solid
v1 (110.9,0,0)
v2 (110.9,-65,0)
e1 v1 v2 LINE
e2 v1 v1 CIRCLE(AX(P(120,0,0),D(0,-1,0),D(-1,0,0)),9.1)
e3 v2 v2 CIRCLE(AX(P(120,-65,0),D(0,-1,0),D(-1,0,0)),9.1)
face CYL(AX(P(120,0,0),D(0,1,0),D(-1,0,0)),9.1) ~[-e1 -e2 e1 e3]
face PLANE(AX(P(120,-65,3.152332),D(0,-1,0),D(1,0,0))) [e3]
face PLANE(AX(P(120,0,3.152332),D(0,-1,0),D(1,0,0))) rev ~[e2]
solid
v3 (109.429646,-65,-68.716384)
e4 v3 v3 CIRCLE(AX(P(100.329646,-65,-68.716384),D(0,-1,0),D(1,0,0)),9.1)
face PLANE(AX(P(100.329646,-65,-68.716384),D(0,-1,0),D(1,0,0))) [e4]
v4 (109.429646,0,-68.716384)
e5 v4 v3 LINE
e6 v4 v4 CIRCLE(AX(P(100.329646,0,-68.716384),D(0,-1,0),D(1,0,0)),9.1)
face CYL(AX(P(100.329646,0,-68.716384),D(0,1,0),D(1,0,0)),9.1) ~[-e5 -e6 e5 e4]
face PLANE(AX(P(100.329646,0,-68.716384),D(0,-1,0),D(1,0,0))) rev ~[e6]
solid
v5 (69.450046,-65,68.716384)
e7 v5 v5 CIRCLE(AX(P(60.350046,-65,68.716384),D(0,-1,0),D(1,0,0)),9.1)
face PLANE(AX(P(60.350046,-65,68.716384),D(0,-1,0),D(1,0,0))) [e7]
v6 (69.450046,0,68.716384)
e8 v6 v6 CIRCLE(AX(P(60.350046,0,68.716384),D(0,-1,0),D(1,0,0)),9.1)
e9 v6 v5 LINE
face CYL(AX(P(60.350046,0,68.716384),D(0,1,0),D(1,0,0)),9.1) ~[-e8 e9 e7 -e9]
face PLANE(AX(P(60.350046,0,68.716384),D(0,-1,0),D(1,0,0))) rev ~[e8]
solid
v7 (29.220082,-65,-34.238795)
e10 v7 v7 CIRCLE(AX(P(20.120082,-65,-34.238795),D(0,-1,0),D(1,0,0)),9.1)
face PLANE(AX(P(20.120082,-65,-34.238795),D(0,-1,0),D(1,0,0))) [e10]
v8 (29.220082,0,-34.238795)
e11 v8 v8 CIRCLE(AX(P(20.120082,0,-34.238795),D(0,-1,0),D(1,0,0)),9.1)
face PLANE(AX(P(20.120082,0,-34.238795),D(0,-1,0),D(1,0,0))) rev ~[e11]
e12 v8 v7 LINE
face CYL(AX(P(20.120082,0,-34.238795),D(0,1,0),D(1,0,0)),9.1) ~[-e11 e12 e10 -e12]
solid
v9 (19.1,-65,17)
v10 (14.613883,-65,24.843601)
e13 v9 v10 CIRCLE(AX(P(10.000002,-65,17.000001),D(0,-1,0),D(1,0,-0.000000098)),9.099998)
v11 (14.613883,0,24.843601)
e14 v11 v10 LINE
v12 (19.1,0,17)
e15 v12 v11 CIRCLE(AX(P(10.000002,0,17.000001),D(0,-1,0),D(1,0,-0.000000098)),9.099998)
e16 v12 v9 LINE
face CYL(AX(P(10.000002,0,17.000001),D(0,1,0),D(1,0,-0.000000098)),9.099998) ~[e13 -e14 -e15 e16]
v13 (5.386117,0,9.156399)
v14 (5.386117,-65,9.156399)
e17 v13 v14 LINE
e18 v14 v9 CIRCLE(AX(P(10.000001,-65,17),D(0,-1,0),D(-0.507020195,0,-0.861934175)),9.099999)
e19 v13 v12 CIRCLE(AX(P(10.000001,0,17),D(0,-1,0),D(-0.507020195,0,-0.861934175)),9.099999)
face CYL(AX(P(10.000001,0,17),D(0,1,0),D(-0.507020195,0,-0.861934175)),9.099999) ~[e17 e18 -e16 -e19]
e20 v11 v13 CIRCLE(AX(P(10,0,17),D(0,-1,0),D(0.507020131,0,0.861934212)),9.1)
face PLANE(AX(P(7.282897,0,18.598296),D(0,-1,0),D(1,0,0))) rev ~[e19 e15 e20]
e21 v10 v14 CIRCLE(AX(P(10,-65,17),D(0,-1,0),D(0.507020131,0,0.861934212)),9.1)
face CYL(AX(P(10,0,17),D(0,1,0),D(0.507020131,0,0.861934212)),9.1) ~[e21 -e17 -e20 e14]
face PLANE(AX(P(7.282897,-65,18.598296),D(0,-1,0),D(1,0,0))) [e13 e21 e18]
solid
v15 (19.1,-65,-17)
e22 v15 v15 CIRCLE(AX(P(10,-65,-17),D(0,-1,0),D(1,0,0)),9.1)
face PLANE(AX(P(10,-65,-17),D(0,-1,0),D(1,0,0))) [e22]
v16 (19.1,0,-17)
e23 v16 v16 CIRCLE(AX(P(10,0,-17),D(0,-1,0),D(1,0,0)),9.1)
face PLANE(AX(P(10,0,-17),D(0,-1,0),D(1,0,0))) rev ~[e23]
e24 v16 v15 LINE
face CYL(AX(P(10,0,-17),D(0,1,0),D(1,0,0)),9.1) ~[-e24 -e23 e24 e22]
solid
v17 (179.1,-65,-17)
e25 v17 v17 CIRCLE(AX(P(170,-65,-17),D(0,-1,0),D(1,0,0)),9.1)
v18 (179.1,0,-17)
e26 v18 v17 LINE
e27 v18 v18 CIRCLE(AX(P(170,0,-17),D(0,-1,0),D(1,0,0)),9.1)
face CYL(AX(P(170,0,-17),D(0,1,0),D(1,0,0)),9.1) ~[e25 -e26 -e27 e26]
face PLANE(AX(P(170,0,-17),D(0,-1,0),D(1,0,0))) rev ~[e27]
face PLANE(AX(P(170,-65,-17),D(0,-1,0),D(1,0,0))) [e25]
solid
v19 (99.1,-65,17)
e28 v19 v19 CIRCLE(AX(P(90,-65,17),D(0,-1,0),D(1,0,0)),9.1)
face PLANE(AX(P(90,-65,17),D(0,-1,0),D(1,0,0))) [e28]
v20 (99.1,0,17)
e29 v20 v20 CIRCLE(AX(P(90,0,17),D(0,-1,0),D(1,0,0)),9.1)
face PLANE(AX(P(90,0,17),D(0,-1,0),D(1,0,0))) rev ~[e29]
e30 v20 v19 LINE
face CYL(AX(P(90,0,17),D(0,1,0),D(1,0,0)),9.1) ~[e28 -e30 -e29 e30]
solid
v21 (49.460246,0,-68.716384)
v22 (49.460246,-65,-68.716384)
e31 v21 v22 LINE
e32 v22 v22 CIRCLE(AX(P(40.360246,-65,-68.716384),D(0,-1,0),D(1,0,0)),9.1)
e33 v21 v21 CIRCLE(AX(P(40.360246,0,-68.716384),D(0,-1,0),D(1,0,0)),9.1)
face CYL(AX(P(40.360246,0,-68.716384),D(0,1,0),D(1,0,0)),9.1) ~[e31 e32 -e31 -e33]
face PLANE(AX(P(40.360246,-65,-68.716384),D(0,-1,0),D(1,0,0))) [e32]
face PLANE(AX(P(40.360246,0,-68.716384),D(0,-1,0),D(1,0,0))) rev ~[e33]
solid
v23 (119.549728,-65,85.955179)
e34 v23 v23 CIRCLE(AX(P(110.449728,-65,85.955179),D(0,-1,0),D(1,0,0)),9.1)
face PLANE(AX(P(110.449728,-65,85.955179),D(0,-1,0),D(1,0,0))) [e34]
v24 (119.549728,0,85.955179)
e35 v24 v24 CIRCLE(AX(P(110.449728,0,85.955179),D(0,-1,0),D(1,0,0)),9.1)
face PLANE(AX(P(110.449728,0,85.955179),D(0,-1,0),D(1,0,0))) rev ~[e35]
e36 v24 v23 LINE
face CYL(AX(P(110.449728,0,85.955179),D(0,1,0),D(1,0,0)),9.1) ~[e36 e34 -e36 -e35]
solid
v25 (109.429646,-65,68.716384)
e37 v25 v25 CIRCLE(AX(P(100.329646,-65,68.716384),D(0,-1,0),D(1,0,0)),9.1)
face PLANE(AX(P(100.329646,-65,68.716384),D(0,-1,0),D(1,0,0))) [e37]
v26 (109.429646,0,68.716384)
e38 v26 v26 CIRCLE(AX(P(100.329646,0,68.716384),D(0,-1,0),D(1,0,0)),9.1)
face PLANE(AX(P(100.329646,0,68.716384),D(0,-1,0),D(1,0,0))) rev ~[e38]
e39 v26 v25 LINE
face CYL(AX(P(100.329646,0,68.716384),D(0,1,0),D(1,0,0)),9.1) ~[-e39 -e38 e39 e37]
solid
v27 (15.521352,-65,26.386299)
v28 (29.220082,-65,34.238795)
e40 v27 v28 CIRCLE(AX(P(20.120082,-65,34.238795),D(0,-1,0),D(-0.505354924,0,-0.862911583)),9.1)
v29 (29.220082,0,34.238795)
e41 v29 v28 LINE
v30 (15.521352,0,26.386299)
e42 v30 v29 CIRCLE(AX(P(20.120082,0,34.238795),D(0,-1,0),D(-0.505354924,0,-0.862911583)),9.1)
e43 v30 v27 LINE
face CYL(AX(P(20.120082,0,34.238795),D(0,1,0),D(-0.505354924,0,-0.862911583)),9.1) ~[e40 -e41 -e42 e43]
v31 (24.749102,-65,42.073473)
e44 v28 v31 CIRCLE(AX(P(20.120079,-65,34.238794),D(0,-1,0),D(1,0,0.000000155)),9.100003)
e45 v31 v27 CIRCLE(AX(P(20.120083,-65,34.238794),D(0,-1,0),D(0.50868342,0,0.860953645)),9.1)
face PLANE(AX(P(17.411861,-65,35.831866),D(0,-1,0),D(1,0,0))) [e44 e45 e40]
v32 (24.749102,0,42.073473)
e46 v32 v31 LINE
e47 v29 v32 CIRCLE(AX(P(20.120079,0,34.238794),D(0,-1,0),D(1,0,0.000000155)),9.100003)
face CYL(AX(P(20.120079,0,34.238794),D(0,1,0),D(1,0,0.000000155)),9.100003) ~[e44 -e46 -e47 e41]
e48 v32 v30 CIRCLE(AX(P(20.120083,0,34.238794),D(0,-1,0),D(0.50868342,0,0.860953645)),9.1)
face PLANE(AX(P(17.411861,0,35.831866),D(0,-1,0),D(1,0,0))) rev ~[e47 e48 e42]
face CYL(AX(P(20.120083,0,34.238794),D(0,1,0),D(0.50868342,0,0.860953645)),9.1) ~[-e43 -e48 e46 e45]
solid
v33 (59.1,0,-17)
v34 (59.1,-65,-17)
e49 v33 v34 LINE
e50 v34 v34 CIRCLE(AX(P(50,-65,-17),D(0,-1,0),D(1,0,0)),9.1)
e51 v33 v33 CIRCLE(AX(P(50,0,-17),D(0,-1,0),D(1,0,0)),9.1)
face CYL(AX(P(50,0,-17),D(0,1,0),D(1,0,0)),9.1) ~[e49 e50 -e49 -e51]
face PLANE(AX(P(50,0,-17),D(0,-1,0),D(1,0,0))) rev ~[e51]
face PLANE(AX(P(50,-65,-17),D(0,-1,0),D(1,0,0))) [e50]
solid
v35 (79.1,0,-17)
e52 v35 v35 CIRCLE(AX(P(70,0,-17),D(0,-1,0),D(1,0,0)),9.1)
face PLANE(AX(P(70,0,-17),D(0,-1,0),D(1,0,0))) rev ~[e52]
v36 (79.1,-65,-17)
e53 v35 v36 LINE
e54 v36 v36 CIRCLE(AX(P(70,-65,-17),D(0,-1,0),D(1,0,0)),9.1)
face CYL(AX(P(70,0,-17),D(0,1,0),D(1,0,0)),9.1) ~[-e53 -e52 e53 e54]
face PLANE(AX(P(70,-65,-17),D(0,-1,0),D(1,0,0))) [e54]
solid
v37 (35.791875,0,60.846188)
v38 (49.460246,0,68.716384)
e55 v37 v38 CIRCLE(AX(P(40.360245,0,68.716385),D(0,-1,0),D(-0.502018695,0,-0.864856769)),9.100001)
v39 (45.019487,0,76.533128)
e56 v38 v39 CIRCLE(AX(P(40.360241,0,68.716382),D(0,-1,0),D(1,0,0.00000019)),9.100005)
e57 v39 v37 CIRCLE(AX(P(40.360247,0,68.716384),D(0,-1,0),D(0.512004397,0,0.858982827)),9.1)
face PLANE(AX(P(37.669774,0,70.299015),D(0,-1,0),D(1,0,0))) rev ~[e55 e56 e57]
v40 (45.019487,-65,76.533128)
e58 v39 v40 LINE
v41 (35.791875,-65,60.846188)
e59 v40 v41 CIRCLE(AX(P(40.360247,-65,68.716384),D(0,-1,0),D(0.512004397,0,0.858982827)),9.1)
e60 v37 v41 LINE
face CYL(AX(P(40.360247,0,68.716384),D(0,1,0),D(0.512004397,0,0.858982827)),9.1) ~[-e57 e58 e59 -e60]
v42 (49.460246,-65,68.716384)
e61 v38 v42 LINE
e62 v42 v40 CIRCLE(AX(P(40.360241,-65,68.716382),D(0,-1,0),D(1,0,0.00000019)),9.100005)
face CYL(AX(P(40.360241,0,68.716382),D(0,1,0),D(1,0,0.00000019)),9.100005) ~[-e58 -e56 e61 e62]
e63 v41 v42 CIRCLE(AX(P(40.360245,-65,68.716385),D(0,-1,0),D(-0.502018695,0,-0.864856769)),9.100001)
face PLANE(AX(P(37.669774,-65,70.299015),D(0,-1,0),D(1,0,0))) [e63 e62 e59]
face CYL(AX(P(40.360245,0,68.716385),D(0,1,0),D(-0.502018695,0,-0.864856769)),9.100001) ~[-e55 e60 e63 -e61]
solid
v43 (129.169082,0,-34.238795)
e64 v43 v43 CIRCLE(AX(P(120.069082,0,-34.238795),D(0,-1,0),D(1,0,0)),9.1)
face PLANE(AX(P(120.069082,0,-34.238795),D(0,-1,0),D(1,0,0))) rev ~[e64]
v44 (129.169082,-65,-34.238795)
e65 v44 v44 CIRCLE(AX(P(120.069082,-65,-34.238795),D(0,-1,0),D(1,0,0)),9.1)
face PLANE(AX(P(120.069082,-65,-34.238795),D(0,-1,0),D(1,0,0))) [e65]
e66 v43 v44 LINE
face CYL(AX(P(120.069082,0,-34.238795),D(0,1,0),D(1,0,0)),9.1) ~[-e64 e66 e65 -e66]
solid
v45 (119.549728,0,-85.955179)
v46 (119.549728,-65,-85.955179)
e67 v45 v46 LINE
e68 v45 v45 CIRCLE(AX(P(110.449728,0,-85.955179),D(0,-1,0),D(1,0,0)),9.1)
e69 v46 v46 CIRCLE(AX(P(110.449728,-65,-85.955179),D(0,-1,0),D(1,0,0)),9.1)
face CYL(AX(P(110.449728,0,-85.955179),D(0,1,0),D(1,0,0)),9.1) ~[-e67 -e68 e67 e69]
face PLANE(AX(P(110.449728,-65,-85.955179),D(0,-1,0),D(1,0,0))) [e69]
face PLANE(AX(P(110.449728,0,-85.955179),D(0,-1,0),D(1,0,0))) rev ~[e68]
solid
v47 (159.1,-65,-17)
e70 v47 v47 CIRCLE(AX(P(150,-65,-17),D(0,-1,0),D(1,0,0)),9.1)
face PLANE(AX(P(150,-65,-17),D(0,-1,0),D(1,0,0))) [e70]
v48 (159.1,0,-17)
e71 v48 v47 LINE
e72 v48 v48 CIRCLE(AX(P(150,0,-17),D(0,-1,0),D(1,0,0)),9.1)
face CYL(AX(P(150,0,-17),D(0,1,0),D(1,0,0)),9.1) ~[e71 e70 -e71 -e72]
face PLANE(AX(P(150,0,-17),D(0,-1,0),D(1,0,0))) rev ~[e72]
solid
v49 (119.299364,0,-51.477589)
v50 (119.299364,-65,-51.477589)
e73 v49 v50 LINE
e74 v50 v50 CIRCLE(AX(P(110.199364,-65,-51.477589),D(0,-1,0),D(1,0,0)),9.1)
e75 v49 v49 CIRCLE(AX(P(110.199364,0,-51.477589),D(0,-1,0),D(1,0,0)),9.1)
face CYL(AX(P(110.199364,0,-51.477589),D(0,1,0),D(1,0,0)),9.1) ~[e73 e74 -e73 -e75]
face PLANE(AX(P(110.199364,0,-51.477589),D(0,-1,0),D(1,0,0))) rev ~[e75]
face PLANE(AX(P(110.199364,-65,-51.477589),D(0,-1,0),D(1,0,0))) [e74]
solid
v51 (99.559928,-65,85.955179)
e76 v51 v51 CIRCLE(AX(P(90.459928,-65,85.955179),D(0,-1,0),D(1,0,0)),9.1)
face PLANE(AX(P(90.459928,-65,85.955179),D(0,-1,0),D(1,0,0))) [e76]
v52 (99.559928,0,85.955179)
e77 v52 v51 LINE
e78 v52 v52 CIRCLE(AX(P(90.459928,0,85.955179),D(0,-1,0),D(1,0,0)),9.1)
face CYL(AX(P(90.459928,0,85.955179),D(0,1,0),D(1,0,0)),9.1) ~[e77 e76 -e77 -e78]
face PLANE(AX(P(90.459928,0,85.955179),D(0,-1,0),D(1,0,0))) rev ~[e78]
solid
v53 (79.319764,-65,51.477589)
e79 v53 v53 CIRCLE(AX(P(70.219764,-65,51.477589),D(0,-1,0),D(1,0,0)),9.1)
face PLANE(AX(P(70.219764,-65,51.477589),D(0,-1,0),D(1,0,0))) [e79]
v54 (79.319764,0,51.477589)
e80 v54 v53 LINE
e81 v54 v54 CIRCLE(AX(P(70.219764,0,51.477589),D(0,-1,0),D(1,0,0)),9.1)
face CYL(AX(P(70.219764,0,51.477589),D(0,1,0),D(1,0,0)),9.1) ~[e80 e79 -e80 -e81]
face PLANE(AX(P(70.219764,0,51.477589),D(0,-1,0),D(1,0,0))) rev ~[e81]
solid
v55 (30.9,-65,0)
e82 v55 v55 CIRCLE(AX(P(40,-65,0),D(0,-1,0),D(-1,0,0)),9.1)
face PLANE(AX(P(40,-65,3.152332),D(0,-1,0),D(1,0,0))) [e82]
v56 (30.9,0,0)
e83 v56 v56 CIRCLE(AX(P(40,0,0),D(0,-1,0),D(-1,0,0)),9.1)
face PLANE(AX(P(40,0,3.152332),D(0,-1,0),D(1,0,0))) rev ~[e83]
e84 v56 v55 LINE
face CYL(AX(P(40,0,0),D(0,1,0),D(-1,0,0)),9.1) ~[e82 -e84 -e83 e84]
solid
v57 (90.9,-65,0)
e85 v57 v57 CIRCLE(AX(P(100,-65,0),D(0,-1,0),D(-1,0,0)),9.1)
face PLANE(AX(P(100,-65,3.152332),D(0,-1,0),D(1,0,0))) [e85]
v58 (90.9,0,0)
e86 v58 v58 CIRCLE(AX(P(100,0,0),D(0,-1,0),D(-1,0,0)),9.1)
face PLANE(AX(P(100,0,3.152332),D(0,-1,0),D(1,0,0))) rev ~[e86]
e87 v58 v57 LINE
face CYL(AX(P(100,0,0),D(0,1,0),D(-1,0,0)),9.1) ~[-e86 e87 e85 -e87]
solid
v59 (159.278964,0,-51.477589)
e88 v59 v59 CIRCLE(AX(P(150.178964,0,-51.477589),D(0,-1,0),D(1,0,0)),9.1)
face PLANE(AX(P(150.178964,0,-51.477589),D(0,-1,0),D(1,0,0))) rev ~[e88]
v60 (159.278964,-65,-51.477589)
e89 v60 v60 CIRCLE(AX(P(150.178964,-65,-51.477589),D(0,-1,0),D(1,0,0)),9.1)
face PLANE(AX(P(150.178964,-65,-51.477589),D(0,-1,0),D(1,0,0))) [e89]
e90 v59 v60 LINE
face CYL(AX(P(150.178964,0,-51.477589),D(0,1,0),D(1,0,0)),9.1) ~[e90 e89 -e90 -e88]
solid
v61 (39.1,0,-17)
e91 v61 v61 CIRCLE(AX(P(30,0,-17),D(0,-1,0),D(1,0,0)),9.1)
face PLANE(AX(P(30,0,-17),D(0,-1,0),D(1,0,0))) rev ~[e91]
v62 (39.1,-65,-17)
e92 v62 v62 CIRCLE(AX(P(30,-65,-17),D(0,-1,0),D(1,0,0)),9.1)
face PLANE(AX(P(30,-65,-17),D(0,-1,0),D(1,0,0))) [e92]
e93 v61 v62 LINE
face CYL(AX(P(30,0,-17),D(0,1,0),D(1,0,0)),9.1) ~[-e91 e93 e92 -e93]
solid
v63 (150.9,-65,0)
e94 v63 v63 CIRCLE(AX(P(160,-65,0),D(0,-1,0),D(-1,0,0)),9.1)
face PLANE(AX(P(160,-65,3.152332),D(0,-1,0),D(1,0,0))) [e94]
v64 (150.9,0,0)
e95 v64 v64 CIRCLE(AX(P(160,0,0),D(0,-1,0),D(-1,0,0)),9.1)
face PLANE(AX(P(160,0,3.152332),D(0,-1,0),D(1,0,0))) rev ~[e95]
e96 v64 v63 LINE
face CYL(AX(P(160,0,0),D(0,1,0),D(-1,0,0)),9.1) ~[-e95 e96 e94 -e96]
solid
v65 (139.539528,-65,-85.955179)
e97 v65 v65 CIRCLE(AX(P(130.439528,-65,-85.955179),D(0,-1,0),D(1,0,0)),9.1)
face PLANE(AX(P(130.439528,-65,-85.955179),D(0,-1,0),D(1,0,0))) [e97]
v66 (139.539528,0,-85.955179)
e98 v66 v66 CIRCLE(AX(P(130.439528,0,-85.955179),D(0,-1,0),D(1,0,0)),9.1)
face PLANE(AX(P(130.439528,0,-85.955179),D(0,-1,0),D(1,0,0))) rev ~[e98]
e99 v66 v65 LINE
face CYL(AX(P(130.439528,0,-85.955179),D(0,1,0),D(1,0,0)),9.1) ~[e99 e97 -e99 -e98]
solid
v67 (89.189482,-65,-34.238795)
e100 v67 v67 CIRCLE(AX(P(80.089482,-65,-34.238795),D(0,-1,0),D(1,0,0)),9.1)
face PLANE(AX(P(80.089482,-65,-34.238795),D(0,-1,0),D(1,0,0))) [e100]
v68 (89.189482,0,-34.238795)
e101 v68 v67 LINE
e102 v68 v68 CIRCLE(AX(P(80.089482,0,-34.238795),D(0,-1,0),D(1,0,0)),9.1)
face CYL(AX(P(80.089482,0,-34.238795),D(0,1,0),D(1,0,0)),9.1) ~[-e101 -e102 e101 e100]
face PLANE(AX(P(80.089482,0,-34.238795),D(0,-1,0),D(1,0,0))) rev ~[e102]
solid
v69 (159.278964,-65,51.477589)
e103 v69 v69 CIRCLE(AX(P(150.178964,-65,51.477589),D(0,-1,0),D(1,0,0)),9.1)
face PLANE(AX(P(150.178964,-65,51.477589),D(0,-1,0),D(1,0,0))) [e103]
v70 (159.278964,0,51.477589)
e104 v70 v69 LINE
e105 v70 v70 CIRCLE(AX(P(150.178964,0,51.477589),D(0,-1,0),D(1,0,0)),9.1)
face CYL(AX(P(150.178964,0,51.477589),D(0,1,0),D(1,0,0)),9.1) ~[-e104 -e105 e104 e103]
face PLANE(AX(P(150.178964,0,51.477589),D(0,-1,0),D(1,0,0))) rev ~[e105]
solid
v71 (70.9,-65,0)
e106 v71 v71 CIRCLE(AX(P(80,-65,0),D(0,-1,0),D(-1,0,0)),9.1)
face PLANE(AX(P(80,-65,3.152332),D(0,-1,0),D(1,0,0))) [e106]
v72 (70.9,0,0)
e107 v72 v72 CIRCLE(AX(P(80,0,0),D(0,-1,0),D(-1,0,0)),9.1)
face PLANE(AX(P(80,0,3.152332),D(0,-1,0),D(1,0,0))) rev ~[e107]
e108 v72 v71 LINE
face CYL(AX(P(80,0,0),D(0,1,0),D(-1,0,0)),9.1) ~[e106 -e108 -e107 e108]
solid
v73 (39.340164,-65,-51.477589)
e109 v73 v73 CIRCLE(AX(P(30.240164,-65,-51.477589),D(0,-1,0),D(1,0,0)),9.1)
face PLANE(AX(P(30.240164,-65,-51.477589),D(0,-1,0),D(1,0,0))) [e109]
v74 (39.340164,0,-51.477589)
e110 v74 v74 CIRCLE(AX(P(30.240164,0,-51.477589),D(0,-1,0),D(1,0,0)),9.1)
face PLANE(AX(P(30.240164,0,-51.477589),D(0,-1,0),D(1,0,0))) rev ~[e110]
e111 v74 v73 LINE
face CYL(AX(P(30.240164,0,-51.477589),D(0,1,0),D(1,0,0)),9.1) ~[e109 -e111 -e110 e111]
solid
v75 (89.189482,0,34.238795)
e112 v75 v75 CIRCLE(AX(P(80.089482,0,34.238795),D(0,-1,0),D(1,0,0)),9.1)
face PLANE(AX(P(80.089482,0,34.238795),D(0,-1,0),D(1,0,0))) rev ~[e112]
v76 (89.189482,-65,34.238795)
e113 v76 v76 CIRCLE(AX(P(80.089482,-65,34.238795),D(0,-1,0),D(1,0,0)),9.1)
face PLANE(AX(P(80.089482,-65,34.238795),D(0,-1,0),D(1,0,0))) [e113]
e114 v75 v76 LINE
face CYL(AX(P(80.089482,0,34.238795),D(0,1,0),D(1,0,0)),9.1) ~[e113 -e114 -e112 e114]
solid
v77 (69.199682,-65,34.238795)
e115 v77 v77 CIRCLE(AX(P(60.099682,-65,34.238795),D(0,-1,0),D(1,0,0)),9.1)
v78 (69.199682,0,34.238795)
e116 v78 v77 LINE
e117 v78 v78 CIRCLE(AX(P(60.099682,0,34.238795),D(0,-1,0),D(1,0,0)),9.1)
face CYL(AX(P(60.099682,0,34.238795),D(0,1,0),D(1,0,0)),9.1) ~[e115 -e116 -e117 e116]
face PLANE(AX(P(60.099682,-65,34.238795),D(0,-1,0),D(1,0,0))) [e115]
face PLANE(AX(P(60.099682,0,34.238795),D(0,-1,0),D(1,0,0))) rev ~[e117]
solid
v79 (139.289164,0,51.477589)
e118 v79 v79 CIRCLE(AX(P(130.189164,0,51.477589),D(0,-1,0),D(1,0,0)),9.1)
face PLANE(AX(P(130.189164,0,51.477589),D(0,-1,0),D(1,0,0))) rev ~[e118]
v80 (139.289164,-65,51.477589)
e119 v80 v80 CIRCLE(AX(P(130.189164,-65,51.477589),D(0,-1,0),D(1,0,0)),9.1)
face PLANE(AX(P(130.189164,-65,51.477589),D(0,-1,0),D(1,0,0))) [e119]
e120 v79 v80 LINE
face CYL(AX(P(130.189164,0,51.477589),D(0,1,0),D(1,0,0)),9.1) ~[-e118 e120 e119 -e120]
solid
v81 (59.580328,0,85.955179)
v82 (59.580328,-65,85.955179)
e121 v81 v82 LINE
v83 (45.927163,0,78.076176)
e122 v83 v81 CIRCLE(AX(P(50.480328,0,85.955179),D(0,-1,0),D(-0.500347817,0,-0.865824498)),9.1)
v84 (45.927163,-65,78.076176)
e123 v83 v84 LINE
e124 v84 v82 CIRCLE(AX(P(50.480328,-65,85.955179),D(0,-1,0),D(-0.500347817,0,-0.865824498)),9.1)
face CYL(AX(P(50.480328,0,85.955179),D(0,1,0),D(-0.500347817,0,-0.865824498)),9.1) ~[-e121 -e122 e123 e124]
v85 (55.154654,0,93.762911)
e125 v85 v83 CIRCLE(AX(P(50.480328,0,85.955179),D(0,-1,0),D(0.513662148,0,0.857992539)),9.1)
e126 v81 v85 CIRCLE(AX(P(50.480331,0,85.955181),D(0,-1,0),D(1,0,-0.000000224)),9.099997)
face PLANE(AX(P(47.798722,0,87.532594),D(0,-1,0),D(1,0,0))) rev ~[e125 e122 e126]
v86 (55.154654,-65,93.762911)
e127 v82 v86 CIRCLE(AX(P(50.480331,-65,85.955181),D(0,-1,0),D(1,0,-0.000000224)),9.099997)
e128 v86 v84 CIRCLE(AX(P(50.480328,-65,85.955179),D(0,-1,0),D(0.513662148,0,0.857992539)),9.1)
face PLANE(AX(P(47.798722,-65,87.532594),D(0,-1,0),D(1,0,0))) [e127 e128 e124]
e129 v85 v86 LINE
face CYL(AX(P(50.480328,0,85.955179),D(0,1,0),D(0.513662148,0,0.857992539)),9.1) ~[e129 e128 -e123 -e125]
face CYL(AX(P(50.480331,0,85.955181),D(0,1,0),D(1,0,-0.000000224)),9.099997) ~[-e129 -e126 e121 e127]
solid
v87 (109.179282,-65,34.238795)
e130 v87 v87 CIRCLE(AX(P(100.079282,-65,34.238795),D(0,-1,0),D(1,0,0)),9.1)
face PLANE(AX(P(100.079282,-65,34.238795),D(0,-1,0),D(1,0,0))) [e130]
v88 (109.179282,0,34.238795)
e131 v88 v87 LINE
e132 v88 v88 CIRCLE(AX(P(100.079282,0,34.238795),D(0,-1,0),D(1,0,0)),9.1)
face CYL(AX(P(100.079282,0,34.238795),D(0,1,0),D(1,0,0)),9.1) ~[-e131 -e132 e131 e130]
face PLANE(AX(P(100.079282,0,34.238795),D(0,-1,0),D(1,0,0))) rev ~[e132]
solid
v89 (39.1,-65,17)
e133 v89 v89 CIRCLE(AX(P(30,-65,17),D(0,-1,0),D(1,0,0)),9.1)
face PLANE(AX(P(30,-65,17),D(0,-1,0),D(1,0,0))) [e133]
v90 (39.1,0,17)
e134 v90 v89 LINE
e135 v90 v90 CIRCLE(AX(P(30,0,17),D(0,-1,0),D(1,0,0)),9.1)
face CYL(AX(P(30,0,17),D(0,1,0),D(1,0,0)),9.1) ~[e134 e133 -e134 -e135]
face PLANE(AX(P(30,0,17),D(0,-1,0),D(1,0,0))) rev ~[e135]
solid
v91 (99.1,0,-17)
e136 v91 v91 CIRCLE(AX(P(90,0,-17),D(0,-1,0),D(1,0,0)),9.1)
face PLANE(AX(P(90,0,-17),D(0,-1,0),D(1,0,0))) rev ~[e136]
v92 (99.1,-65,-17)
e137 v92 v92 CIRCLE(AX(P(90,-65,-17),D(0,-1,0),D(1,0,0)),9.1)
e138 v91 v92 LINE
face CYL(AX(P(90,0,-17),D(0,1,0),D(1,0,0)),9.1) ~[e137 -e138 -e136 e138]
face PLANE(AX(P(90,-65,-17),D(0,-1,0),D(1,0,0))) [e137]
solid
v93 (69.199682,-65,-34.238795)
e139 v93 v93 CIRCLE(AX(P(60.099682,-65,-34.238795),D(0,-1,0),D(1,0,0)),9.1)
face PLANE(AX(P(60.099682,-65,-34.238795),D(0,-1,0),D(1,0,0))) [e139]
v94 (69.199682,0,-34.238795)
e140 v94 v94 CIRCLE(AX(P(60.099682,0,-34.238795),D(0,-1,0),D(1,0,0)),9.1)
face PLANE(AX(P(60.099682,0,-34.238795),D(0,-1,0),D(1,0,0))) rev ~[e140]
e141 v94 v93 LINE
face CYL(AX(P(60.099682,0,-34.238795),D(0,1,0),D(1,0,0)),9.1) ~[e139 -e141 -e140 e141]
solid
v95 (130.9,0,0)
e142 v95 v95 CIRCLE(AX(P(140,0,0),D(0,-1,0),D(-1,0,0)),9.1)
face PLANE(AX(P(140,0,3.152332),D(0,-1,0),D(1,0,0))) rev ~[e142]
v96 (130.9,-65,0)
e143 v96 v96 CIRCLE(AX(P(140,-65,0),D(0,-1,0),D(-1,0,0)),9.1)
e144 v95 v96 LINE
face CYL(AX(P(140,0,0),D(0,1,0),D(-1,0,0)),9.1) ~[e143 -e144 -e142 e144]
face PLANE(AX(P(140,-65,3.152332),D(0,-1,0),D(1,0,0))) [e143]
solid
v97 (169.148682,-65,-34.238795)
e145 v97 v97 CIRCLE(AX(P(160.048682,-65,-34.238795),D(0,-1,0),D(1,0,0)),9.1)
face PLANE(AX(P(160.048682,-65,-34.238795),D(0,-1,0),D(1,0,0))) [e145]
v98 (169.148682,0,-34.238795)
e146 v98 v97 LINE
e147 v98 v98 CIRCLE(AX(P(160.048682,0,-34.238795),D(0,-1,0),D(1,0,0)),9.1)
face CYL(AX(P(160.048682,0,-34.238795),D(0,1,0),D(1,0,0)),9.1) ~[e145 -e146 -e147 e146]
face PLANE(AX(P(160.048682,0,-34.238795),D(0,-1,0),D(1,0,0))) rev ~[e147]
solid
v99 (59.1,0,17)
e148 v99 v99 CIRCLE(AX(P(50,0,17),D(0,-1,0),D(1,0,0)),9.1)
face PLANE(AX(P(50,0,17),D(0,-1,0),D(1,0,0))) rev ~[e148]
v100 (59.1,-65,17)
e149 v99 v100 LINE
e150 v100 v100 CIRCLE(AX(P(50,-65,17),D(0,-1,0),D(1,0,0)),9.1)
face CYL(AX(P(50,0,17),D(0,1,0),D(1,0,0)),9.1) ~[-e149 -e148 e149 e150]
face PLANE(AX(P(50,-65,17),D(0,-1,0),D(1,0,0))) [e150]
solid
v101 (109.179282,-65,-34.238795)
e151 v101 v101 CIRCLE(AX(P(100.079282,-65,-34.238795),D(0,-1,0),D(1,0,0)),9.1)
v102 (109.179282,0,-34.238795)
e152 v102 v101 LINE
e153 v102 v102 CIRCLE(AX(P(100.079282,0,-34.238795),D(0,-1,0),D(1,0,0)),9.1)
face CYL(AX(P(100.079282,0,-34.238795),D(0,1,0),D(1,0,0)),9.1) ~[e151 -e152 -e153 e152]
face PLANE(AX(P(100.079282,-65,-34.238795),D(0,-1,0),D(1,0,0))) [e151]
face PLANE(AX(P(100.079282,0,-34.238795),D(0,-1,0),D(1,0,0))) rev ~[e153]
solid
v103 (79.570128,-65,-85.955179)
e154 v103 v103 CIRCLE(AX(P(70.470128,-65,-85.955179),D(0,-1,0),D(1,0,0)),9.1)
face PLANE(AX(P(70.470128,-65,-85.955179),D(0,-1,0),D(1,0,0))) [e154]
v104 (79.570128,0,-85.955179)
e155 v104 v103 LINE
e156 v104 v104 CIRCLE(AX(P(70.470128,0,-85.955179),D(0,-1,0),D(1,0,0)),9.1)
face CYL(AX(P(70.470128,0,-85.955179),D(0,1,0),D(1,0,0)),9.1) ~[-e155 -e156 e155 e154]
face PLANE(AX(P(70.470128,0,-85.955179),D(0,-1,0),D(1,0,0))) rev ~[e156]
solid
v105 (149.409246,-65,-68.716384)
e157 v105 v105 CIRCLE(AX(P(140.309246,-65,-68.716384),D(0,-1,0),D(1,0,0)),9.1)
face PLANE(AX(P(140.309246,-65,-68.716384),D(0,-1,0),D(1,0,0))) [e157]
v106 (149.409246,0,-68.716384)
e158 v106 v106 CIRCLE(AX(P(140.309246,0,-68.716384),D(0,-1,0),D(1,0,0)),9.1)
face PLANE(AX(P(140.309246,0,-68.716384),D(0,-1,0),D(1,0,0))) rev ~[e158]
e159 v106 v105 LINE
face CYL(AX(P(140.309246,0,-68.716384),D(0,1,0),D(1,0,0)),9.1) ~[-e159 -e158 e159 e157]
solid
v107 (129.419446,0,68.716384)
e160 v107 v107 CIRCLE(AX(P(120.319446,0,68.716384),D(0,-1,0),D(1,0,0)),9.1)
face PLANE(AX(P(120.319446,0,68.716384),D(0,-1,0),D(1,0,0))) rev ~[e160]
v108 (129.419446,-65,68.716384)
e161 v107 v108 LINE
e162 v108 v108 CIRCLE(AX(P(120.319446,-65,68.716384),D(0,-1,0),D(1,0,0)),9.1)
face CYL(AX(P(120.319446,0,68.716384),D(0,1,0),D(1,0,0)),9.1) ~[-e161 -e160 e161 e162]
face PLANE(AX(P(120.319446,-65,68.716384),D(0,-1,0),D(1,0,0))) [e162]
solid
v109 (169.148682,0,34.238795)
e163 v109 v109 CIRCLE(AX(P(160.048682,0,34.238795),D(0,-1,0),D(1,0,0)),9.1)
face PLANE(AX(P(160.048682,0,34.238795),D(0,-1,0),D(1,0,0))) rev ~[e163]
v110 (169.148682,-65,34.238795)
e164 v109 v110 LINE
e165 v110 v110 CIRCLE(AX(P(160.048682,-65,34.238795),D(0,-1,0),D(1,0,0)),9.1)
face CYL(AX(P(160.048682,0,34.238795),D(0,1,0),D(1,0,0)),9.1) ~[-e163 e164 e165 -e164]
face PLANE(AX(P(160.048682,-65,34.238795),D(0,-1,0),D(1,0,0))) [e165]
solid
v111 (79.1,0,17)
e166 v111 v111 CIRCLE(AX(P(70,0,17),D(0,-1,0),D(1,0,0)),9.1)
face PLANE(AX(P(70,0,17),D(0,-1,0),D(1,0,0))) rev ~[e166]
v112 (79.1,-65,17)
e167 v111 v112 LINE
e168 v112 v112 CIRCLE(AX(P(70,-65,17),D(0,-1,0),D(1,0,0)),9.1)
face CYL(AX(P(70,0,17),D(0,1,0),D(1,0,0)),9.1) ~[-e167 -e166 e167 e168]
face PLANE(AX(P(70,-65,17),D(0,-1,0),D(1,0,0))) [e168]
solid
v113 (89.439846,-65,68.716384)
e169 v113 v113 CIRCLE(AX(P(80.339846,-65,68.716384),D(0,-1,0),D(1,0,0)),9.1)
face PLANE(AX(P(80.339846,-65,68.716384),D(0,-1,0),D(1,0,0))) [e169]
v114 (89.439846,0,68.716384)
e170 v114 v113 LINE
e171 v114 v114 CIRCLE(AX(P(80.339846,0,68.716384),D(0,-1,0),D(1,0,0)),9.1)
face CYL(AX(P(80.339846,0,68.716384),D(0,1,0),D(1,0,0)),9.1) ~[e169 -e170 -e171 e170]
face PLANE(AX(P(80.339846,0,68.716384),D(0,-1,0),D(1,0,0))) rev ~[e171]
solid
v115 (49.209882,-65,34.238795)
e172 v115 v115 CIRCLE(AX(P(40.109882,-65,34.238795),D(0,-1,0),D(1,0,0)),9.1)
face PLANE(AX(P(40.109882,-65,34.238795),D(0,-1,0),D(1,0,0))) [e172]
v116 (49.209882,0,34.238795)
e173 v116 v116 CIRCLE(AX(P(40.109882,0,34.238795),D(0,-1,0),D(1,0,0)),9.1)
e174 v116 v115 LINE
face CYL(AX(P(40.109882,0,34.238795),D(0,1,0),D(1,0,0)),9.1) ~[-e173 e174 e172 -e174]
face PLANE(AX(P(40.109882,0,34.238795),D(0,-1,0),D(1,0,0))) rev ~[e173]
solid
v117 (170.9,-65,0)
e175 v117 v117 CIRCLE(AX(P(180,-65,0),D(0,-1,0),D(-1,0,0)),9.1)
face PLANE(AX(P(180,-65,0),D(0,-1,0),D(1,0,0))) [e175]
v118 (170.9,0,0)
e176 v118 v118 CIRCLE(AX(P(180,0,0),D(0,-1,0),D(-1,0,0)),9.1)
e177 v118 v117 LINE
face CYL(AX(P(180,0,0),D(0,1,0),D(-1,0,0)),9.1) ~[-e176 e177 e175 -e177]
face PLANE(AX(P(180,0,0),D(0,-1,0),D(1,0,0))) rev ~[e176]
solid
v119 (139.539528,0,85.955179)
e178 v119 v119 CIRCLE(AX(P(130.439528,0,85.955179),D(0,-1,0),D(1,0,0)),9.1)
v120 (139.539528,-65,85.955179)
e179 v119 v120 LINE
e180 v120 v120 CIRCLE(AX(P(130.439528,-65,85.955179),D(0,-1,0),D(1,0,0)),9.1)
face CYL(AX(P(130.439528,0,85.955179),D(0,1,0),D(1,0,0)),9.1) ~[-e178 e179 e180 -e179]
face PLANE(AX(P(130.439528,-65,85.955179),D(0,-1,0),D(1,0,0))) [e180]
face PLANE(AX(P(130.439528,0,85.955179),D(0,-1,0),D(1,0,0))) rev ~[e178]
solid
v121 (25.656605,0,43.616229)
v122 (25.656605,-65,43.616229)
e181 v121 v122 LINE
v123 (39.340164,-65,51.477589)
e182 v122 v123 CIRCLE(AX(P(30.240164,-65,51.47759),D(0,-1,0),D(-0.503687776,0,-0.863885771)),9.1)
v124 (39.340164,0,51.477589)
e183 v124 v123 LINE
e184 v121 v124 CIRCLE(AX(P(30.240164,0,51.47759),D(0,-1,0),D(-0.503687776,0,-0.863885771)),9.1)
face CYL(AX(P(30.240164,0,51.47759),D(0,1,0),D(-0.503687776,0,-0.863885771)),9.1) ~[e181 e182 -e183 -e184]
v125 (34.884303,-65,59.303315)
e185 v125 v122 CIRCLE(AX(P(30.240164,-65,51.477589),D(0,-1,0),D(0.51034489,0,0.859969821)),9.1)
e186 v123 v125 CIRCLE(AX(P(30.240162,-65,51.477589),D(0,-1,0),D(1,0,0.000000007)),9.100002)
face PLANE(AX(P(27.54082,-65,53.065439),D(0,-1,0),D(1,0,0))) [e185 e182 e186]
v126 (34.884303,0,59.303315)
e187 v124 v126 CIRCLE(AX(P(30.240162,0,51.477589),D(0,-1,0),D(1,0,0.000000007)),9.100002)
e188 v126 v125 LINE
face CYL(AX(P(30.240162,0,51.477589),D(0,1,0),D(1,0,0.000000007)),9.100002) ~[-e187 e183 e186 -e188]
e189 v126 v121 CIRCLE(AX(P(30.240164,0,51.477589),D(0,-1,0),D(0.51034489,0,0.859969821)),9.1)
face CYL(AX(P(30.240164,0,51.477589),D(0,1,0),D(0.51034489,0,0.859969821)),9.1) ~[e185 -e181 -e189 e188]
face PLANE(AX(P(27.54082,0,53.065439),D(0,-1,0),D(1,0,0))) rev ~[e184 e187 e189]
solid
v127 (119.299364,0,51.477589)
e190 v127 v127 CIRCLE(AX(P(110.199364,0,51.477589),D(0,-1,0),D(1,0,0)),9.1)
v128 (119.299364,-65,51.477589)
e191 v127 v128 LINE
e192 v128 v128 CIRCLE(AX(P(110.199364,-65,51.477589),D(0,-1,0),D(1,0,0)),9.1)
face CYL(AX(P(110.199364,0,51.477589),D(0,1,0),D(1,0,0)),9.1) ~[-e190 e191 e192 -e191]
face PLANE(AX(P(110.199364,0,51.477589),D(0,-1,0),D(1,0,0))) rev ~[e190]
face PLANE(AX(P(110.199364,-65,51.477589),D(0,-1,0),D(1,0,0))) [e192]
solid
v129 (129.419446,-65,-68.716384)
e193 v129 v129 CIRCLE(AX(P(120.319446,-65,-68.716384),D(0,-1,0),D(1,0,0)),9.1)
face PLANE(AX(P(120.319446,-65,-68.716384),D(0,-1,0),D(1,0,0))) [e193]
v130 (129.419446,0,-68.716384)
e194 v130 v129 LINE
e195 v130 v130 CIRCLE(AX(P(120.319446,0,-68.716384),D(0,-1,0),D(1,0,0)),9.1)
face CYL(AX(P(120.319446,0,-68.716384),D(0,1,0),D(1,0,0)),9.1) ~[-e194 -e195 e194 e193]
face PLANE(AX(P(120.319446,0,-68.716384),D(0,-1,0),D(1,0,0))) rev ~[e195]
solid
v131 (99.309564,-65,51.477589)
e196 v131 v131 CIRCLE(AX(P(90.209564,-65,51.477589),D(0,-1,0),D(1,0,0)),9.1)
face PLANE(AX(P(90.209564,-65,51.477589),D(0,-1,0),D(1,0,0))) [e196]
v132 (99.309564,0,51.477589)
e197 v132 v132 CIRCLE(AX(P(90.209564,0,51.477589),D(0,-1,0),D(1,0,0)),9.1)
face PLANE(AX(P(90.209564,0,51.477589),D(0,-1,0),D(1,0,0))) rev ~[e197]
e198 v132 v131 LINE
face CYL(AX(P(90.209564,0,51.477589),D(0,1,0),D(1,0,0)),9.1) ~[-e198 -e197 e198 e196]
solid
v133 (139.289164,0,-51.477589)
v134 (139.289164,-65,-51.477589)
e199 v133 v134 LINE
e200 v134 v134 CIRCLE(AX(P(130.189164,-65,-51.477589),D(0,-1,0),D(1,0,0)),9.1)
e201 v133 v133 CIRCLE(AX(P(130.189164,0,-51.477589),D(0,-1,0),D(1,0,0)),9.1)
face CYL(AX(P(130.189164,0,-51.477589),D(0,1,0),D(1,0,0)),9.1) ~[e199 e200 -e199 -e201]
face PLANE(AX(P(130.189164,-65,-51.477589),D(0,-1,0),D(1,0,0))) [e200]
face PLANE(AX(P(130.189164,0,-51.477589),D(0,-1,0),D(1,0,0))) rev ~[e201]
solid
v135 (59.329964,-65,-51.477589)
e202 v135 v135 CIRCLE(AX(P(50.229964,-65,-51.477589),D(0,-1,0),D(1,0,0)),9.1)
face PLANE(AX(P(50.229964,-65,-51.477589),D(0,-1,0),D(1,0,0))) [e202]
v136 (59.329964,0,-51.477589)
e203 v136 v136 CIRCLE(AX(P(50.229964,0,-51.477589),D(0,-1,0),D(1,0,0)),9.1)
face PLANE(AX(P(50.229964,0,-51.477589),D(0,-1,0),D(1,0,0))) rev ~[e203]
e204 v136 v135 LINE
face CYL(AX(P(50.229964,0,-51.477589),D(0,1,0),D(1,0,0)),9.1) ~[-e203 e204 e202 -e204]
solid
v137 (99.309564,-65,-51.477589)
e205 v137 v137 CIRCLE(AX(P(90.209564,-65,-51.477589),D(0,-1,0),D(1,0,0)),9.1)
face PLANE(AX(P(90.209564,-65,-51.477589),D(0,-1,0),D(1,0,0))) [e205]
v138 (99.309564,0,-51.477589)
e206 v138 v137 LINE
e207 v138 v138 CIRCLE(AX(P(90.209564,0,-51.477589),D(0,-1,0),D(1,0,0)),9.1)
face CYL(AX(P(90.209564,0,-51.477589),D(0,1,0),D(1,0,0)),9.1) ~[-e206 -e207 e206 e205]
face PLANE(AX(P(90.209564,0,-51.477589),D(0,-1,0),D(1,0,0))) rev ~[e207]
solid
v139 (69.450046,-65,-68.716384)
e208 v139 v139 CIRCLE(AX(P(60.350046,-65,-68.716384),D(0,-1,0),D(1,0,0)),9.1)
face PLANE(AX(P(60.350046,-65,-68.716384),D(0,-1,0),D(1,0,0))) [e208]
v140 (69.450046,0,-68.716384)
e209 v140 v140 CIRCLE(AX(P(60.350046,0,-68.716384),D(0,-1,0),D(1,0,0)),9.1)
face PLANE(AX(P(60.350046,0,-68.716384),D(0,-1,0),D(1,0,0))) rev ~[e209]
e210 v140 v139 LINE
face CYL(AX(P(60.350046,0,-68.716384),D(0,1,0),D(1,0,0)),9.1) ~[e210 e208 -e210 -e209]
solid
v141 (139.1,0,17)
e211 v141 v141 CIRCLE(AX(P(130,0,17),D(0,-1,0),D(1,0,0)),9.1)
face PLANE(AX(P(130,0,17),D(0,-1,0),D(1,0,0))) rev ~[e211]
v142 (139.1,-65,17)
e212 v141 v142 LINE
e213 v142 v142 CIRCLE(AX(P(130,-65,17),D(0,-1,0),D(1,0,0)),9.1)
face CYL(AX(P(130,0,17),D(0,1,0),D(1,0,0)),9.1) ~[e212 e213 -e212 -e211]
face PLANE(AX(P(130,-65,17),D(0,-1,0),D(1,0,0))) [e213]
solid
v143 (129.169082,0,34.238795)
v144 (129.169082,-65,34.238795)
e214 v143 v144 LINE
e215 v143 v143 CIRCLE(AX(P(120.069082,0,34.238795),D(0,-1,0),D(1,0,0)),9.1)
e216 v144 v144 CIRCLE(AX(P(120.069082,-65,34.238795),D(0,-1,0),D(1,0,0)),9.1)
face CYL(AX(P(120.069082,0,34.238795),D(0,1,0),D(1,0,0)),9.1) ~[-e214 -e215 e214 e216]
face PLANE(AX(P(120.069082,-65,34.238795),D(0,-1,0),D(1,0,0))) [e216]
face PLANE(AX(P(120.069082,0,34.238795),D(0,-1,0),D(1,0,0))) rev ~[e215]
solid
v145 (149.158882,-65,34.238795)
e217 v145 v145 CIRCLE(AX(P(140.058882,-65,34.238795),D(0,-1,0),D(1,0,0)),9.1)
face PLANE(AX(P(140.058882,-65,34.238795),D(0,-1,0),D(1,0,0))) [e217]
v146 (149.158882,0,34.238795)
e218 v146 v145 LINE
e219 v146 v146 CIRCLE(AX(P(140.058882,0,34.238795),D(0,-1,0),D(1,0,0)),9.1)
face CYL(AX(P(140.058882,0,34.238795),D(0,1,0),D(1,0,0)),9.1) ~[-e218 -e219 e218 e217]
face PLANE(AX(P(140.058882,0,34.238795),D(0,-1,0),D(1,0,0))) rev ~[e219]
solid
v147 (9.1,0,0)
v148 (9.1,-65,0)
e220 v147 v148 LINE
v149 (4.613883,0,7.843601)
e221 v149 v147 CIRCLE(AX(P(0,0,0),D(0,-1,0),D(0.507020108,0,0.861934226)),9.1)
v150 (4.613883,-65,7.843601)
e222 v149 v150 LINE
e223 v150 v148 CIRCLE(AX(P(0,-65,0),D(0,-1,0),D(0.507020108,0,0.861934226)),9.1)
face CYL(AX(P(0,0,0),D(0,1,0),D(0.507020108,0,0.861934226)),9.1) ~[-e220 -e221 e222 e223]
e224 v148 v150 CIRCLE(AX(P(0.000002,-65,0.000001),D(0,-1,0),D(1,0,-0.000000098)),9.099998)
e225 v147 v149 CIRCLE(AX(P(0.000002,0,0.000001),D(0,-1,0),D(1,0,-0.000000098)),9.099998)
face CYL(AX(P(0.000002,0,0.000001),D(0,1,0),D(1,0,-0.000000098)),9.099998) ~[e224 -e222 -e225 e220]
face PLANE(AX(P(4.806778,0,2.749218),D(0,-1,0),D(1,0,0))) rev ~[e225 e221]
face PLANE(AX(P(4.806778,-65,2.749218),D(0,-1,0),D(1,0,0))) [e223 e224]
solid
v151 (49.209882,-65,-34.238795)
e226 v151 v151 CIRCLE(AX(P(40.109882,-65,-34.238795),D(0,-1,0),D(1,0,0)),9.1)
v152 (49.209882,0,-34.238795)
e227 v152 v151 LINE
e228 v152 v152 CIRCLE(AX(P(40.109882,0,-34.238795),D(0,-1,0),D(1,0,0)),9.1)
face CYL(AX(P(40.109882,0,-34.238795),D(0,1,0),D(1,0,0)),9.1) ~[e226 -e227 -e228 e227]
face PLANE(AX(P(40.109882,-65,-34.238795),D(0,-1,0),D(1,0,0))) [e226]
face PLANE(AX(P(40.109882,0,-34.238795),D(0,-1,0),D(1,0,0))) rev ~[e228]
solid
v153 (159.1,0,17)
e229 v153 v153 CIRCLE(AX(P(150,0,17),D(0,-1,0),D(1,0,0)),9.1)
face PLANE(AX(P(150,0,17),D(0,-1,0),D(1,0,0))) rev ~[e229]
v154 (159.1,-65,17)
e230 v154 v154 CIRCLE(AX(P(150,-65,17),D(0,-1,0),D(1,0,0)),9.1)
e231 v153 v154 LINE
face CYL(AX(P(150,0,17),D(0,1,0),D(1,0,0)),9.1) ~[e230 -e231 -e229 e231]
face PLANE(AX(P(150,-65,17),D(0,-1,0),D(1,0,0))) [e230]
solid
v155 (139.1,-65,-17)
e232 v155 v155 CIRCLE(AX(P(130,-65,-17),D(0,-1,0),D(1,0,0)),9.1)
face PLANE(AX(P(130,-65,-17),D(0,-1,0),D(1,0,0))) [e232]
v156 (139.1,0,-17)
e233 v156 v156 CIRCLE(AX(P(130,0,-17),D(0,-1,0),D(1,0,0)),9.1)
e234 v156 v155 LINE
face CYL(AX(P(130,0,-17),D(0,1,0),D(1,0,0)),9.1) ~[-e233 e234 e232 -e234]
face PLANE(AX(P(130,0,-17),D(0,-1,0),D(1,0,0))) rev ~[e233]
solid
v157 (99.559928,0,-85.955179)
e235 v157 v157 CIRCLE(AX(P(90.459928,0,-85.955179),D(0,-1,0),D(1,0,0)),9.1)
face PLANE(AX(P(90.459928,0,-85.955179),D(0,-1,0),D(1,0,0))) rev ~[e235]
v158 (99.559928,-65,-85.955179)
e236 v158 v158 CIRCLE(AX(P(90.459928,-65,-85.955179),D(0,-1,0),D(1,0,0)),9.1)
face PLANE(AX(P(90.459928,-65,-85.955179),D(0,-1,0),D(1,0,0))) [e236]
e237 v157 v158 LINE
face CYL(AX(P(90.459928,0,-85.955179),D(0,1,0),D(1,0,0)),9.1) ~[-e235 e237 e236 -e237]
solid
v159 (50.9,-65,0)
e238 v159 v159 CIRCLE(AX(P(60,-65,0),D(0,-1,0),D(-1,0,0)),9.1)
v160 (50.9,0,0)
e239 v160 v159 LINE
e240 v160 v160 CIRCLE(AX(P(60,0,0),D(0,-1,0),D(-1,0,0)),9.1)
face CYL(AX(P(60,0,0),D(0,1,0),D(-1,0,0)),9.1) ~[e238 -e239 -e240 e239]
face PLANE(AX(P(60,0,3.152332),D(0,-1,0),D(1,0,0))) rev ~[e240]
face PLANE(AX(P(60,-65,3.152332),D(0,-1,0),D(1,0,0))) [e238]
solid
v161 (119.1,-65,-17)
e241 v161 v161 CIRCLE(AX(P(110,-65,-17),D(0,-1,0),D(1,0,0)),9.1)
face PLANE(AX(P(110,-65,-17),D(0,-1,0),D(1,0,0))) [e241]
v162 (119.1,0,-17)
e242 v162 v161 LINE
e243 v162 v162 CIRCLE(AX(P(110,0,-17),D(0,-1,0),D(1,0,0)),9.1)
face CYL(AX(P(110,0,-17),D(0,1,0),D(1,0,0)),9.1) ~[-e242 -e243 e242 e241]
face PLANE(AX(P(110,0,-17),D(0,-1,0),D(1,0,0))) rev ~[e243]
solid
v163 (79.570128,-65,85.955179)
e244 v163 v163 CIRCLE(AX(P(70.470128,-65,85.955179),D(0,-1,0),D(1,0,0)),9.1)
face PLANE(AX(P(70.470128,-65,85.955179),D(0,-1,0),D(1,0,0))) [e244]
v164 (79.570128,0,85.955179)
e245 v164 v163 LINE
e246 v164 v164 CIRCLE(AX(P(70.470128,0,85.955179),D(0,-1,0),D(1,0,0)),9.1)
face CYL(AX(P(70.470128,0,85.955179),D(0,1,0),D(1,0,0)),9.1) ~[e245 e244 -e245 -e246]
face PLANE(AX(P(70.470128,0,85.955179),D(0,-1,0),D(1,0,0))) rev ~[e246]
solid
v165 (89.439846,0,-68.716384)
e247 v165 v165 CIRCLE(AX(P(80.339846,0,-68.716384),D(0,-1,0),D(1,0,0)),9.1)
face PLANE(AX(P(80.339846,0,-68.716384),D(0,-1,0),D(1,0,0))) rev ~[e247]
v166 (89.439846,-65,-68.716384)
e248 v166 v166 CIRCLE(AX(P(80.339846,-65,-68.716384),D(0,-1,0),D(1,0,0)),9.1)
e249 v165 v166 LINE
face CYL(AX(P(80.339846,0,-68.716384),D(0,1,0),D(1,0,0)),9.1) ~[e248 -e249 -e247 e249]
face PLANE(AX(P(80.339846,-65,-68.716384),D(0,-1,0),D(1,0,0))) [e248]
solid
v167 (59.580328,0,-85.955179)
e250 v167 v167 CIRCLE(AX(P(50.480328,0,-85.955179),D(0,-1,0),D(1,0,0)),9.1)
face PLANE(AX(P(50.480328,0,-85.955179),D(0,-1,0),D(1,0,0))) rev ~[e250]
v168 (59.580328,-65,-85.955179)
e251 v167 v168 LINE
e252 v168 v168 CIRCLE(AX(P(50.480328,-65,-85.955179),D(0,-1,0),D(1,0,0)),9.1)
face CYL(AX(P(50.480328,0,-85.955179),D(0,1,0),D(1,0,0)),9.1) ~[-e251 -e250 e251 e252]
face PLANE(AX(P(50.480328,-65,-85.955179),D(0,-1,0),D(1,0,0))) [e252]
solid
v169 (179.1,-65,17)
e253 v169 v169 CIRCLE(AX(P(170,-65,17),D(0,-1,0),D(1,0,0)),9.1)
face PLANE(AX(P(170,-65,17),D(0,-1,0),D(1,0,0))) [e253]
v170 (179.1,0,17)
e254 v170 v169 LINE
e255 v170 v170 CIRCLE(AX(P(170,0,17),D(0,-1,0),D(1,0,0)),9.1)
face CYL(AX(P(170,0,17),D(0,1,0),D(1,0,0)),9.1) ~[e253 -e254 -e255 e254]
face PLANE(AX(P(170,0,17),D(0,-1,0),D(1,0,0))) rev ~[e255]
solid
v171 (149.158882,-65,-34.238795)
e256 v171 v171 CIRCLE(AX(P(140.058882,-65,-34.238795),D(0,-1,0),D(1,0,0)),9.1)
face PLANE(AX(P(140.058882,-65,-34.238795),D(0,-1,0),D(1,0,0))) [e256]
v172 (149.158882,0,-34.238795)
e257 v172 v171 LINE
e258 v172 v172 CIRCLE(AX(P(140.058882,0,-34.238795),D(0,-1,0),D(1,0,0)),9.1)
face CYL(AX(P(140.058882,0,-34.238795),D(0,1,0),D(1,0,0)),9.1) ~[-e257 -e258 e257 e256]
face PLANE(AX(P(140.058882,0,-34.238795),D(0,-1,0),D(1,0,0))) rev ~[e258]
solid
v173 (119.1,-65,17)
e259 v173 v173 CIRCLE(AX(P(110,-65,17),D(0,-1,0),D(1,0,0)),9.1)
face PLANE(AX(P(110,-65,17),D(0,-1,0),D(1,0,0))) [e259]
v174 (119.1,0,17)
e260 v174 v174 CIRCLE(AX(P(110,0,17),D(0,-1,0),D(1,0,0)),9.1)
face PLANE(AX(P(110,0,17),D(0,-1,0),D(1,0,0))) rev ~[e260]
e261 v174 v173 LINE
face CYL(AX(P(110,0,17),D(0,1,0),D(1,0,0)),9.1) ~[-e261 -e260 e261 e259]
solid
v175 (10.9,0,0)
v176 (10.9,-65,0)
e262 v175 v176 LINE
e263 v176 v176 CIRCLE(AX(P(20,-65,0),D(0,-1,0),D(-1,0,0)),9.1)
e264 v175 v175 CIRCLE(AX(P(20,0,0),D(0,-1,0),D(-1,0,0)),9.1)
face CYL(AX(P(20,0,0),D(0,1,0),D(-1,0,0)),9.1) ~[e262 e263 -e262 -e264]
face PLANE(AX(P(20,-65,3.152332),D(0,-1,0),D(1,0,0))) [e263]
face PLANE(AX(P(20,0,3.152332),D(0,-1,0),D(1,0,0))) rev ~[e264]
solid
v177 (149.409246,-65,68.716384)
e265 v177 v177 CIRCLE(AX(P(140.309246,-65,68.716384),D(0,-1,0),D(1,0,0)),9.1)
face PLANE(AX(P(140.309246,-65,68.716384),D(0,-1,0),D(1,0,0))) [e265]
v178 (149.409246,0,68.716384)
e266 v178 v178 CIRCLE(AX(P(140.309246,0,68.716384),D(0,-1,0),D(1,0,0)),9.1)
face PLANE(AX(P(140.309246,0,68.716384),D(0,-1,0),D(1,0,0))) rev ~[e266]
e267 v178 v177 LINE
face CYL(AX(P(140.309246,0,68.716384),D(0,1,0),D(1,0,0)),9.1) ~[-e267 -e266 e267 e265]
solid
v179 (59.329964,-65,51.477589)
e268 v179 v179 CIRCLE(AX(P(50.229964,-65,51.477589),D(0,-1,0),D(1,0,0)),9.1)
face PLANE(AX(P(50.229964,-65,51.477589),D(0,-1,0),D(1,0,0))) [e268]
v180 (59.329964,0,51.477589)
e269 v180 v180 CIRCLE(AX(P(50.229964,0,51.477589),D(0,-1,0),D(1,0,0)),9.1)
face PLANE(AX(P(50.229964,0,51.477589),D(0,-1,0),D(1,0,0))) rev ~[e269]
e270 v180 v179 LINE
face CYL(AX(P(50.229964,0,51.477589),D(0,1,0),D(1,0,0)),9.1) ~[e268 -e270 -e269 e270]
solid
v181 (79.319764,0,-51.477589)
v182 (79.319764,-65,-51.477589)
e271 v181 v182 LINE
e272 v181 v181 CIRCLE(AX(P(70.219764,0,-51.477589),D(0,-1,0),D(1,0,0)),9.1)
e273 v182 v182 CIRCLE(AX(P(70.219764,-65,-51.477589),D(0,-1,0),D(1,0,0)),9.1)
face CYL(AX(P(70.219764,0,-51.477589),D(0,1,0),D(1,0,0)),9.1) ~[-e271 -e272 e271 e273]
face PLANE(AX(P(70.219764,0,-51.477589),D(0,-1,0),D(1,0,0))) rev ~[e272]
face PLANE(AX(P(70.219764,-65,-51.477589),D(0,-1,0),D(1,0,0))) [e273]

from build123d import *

# Parameters (mm, degrees)
F0_R     = 9.1
F1_DEPTH = 65


with BuildPart() as f1:
    # F0 (on Front) → F1 (new body)
    with BuildSketch(Plane.XZ):
        with BuildLine():
            Line((0, 0), (9.1, 0))
            ThreePointArc((9.1, 0), (7.899251, 4.517946), (4.613883, 7.843601))
            Line((4.613883, 7.843601), (0, 0))
        make_face()
        with BuildLine():
            ThreePointArc((55.154654, 93.762911), (42.636727, 90.569062), (45.927163, 78.076176))
            Line((45.927163, 78.076176), (55.154654, 93.762911))
        make_face()
        with BuildLine():
            Line((55.154654, 93.762911), (45.927163, 78.076176))
            ThreePointArc((45.927163, 78.076176), (55.028745, 78.073434), (59.580328, 85.955179))
            ThreePointArc((59.580328, 85.955179), (58.396968, 90.442586), (55.154654, 93.762911))
        make_face()
        with BuildLine():
            ThreePointArc((45.019487, 76.533128), (32.516645, 73.330267), (35.791875, 60.846188))
            Line((35.791875, 60.846188), (45.019487, 76.533128))
        make_face()
        with BuildLine():
            Line((45.019487, 76.533128), (35.791875, 60.846188))
            ThreePointArc((35.791875, 60.846188), (44.901051, 60.830252), (49.460246, 68.716384))
            ThreePointArc((49.460246, 68.716384), (48.272549, 73.211432), (45.019487, 76.533128))
        make_face()
        with BuildLine():
            ThreePointArc((34.884303, 59.303315), (22.396563, 56.091473), (25.656605, 43.616229))
            Line((25.656605, 43.616229), (34.884303, 59.303315))
        make_face()
        with BuildLine():
            Line((34.884303, 59.303315), (25.656605, 43.616229))
            ThreePointArc((25.656605, 43.616229), (34.773354, 43.587077), (39.340164, 51.477589))
            ThreePointArc((39.340164, 51.477589), (38.148124, 55.980274), (34.884303, 59.303315))
        make_face()
        with BuildLine():
            ThreePointArc((24.749102, 42.073473), (12.276481, 38.852678), (15.521352, 26.386299))
            Line((15.521352, 26.386299), (24.749102, 42.073473))
        make_face()
        with BuildLine():
            Line((24.749102, 42.073473), (15.521352, 26.386299))
            ThreePointArc((15.521352, 26.386299), (24.645652, 26.343909), (29.220082, 34.238795))
            ThreePointArc((29.220082, 34.238795), (28.023691, 38.749112), (24.749102, 42.073473))
        make_face()
        with BuildLine():
            ThreePointArc((14.613883, 24.843601), (2.156399, 21.613883), (5.386117, 9.156399))
            Line((5.386117, 9.156399), (10, 17))
            Line((10, 17), (14.613883, 24.843601))
        make_face()
        with BuildLine():
            Line((10, 17), (5.386117, 9.156399))
            ThreePointArc((5.386117, 9.156399), (14.517946, 9.100749), (19.1, 17))
            ThreePointArc((19.1, 17), (17.899251, 21.517946), (14.613883, 24.843601))
            Line((14.613883, 24.843601), (10, 17))
        make_face()
        with BuildLine():
            ThreePointArc((4.613883, 7.843601), (-7.899251, -4.517946), (9.1, 0))
            Line((9.1, 0), (0, 0))
            Line((0, 0), (4.613883, 7.843601))
        make_face()
        with BuildLine():
            ThreePointArc((189.1, 0), (180, 9.1), (170.9, 0))
            ThreePointArc((170.9, 0), (180, -9.1), (189.1, 0))
        make_face()
        with BuildLine():
            ThreePointArc((169.1, 0), (160, 9.1), (150.9, 0))
            Line((150.9, 0), (169.1, 0))
        make_face()
        with BuildLine():
            Line((169.1, 0), (150.9, 0))
            ThreePointArc((150.9, 0), (160, -9.1), (169.1, 0))
        make_face()
        with BuildLine():
            ThreePointArc((149.1, 0), (140, 9.1), (130.9, 0))
            Line((130.9, 0), (149.1, 0))
        make_face()
        with BuildLine():
            Line((149.1, 0), (130.9, 0))
            ThreePointArc((130.9, 0), (140, -9.1), (149.1, 0))
        make_face()
        with BuildLine():
            ThreePointArc((129.1, 0), (120, 9.1), (110.9, 0))
            Line((110.9, 0), (129.1, 0))
        make_face()
        with BuildLine():
            Line((129.1, 0), (110.9, 0))
            ThreePointArc((110.9, 0), (120, -9.1), (129.1, 0))
        make_face()
        with BuildLine():
            ThreePointArc((109.1, 0), (100, 9.1), (90.9, 0))
            Line((90.9, 0), (109.1, 0))
        make_face()
        with BuildLine():
            Line((109.1, 0), (90.9, 0))
            ThreePointArc((90.9, 0), (100, -9.1), (109.1, 0))
        make_face()
        with BuildLine():
            ThreePointArc((89.1, 0), (80, 9.1), (70.9, 0))
            Line((70.9, 0), (89.1, 0))
        make_face()
        with BuildLine():
            Line((89.1, 0), (70.9, 0))
            ThreePointArc((70.9, 0), (80, -9.1), (89.1, 0))
        make_face()
        with BuildLine():
            ThreePointArc((69.1, 0), (60, 9.1), (50.9, 0))
            Line((50.9, 0), (69.1, 0))
        make_face()
        with BuildLine():
            Line((69.1, 0), (50.9, 0))
            ThreePointArc((50.9, 0), (60, -9.1), (69.1, 0))
        make_face()
        with BuildLine():
            ThreePointArc((49.1, 0), (40, 9.1), (30.9, 0))
            Line((30.9, 0), (49.1, 0))
        make_face()
        with BuildLine():
            Line((49.1, 0), (30.9, 0))
            ThreePointArc((30.9, 0), (40, -9.1), (49.1, 0))
        make_face()
        with BuildLine():
            ThreePointArc((29.1, 0), (20, 9.1), (10.9, 0))
            Line((10.9, 0), (29.1, 0))
        make_face()
        with BuildLine():
            Line((29.1, 0), (10.9, 0))
            ThreePointArc((10.9, 0), (20, -9.1), (29.1, 0))
        make_face()
        with Locations((30, 17)):
            Circle(F0_R)
        with Locations((50, 17)):
            Circle(F0_R)
        with Locations((70, 17)):
            Circle(F0_R)
        with Locations((90, 17)):
            Circle(F0_R)
        with Locations((110, 17)):
            Circle(F0_R)
        with Locations((130, 17)):
            Circle(F0_R)
        with Locations((150, 17)):
            Circle(F0_R)
        with Locations((170, 17)):
            Circle(F0_R)
        with Locations((40.109882, 34.238795)):
            Circle(F0_R)
        with Locations((60.099682, 34.238795)):
            Circle(F0_R)
        with Locations((80.089482, 34.238795)):
            Circle(F0_R)
        with Locations((100.079282, 34.238795)):
            Circle(F0_R)
        with Locations((120.069082, 34.238795)):
            Circle(F0_R)
        with Locations((140.058882, 34.238795)):
            Circle(F0_R)
        with Locations((160.048682, 34.238795)):
            Circle(F0_R)
        with Locations((50.229964, 51.477589)):
            Circle(F0_R)
        with Locations((70.219764, 51.477589)):
            Circle(F0_R)
        with Locations((90.209564, 51.477589)):
            Circle(F0_R)
        with Locations((110.199364, 51.477589)):
            Circle(F0_R)
        with Locations((130.189164, 51.477589)):
            Circle(F0_R)
        with Locations((150.178964, 51.477589)):
            Circle(F0_R)
        with Locations((60.350046, 68.716384)):
            Circle(F0_R)
        with Locations((80.339846, 68.716384)):
            Circle(F0_R)
        with Locations((100.329646, 68.716384)):
            Circle(F0_R)
        with Locations((120.319446, 68.716384)):
            Circle(F0_R)
        with Locations((140.309246, 68.716384)):
            Circle(F0_R)
        with Locations((70.470128, 85.955179)):
            Circle(F0_R)
        with Locations((90.459928, 85.955179)):
            Circle(F0_R)
        with Locations((110.449728, 85.955179)):
            Circle(F0_R)
        with Locations((130.439528, 85.955179)):
            Circle(F0_R)
        with Locations((160.048682, -34.238795)):
            Circle(F0_R)
        with Locations((90.459928, -85.955179)):
            Circle(F0_R)
        with Locations((150, -17)):
            Circle(F0_R)
        with Locations((40.360246, -68.716384)):
            Circle(F0_R)
        with Locations((170, -17)):
            Circle(F0_R)
        with Locations((50.480328, -85.955179)):
            Circle(F0_R)
        with Locations((150.178964, -51.477589)):
            Circle(F0_R)
        with Locations((130, -17)):
            Circle(F0_R)
        with Locations((30.240164, -51.477589)):
            Circle(F0_R)
        with Locations((130.189164, -51.477589)):
            Circle(F0_R)
        with Locations((90, -17)):
            Circle(F0_R)
        with Locations((70, -17)):
            Circle(F0_R)
        with Locations((50, -17)):
            Circle(F0_R)
        with Locations((70.219764, -51.477589)):
            Circle(F0_R)
        with Locations((80.089482, -34.238795)):
            Circle(F0_R)
        with Locations((120.319446, -68.716384)):
            Circle(F0_R)
        with Locations((120.069082, -34.238795)):
            Circle(F0_R)
        with Locations((110, -17)):
            Circle(F0_R)
        with Locations((110.199364, -51.477589)):
            Circle(F0_R)
        with Locations((20.120082, -34.238795)):
            Circle(F0_R)
        with Locations((50.229964, -51.477589)):
            Circle(F0_R)
        with Locations((60.099682, -34.238795)):
            Circle(F0_R)
        with Locations((130.439528, -85.955179)):
            Circle(F0_R)
        with Locations((100.329646, -68.716384)):
            Circle(F0_R)
        with Locations((30, -17)):
            Circle(F0_R)
        with Locations((10, -17)):
            Circle(F0_R)
        with Locations((140.058882, -34.238795)):
            Circle(F0_R)
        with Locations((70.470128, -85.955179)):
            Circle(F0_R)
        with Locations((90.209564, -51.477589)):
            Circle(F0_R)
        with Locations((140.309246, -68.716384)):
            Circle(F0_R)
        with Locations((100.079282, -34.238795)):
            Circle(F0_R)
        with Locations((40.109882, -34.238795)):
            Circle(F0_R)
        with Locations((80.339846, -68.716384)):
            Circle(F0_R)
        with Locations((60.350046, -68.716384)):
            Circle(F0_R)
        with Locations((110.449728, -85.955179)):
            Circle(F0_R)
    extrude(amount=F1_DEPTH)


solid = f1.part
